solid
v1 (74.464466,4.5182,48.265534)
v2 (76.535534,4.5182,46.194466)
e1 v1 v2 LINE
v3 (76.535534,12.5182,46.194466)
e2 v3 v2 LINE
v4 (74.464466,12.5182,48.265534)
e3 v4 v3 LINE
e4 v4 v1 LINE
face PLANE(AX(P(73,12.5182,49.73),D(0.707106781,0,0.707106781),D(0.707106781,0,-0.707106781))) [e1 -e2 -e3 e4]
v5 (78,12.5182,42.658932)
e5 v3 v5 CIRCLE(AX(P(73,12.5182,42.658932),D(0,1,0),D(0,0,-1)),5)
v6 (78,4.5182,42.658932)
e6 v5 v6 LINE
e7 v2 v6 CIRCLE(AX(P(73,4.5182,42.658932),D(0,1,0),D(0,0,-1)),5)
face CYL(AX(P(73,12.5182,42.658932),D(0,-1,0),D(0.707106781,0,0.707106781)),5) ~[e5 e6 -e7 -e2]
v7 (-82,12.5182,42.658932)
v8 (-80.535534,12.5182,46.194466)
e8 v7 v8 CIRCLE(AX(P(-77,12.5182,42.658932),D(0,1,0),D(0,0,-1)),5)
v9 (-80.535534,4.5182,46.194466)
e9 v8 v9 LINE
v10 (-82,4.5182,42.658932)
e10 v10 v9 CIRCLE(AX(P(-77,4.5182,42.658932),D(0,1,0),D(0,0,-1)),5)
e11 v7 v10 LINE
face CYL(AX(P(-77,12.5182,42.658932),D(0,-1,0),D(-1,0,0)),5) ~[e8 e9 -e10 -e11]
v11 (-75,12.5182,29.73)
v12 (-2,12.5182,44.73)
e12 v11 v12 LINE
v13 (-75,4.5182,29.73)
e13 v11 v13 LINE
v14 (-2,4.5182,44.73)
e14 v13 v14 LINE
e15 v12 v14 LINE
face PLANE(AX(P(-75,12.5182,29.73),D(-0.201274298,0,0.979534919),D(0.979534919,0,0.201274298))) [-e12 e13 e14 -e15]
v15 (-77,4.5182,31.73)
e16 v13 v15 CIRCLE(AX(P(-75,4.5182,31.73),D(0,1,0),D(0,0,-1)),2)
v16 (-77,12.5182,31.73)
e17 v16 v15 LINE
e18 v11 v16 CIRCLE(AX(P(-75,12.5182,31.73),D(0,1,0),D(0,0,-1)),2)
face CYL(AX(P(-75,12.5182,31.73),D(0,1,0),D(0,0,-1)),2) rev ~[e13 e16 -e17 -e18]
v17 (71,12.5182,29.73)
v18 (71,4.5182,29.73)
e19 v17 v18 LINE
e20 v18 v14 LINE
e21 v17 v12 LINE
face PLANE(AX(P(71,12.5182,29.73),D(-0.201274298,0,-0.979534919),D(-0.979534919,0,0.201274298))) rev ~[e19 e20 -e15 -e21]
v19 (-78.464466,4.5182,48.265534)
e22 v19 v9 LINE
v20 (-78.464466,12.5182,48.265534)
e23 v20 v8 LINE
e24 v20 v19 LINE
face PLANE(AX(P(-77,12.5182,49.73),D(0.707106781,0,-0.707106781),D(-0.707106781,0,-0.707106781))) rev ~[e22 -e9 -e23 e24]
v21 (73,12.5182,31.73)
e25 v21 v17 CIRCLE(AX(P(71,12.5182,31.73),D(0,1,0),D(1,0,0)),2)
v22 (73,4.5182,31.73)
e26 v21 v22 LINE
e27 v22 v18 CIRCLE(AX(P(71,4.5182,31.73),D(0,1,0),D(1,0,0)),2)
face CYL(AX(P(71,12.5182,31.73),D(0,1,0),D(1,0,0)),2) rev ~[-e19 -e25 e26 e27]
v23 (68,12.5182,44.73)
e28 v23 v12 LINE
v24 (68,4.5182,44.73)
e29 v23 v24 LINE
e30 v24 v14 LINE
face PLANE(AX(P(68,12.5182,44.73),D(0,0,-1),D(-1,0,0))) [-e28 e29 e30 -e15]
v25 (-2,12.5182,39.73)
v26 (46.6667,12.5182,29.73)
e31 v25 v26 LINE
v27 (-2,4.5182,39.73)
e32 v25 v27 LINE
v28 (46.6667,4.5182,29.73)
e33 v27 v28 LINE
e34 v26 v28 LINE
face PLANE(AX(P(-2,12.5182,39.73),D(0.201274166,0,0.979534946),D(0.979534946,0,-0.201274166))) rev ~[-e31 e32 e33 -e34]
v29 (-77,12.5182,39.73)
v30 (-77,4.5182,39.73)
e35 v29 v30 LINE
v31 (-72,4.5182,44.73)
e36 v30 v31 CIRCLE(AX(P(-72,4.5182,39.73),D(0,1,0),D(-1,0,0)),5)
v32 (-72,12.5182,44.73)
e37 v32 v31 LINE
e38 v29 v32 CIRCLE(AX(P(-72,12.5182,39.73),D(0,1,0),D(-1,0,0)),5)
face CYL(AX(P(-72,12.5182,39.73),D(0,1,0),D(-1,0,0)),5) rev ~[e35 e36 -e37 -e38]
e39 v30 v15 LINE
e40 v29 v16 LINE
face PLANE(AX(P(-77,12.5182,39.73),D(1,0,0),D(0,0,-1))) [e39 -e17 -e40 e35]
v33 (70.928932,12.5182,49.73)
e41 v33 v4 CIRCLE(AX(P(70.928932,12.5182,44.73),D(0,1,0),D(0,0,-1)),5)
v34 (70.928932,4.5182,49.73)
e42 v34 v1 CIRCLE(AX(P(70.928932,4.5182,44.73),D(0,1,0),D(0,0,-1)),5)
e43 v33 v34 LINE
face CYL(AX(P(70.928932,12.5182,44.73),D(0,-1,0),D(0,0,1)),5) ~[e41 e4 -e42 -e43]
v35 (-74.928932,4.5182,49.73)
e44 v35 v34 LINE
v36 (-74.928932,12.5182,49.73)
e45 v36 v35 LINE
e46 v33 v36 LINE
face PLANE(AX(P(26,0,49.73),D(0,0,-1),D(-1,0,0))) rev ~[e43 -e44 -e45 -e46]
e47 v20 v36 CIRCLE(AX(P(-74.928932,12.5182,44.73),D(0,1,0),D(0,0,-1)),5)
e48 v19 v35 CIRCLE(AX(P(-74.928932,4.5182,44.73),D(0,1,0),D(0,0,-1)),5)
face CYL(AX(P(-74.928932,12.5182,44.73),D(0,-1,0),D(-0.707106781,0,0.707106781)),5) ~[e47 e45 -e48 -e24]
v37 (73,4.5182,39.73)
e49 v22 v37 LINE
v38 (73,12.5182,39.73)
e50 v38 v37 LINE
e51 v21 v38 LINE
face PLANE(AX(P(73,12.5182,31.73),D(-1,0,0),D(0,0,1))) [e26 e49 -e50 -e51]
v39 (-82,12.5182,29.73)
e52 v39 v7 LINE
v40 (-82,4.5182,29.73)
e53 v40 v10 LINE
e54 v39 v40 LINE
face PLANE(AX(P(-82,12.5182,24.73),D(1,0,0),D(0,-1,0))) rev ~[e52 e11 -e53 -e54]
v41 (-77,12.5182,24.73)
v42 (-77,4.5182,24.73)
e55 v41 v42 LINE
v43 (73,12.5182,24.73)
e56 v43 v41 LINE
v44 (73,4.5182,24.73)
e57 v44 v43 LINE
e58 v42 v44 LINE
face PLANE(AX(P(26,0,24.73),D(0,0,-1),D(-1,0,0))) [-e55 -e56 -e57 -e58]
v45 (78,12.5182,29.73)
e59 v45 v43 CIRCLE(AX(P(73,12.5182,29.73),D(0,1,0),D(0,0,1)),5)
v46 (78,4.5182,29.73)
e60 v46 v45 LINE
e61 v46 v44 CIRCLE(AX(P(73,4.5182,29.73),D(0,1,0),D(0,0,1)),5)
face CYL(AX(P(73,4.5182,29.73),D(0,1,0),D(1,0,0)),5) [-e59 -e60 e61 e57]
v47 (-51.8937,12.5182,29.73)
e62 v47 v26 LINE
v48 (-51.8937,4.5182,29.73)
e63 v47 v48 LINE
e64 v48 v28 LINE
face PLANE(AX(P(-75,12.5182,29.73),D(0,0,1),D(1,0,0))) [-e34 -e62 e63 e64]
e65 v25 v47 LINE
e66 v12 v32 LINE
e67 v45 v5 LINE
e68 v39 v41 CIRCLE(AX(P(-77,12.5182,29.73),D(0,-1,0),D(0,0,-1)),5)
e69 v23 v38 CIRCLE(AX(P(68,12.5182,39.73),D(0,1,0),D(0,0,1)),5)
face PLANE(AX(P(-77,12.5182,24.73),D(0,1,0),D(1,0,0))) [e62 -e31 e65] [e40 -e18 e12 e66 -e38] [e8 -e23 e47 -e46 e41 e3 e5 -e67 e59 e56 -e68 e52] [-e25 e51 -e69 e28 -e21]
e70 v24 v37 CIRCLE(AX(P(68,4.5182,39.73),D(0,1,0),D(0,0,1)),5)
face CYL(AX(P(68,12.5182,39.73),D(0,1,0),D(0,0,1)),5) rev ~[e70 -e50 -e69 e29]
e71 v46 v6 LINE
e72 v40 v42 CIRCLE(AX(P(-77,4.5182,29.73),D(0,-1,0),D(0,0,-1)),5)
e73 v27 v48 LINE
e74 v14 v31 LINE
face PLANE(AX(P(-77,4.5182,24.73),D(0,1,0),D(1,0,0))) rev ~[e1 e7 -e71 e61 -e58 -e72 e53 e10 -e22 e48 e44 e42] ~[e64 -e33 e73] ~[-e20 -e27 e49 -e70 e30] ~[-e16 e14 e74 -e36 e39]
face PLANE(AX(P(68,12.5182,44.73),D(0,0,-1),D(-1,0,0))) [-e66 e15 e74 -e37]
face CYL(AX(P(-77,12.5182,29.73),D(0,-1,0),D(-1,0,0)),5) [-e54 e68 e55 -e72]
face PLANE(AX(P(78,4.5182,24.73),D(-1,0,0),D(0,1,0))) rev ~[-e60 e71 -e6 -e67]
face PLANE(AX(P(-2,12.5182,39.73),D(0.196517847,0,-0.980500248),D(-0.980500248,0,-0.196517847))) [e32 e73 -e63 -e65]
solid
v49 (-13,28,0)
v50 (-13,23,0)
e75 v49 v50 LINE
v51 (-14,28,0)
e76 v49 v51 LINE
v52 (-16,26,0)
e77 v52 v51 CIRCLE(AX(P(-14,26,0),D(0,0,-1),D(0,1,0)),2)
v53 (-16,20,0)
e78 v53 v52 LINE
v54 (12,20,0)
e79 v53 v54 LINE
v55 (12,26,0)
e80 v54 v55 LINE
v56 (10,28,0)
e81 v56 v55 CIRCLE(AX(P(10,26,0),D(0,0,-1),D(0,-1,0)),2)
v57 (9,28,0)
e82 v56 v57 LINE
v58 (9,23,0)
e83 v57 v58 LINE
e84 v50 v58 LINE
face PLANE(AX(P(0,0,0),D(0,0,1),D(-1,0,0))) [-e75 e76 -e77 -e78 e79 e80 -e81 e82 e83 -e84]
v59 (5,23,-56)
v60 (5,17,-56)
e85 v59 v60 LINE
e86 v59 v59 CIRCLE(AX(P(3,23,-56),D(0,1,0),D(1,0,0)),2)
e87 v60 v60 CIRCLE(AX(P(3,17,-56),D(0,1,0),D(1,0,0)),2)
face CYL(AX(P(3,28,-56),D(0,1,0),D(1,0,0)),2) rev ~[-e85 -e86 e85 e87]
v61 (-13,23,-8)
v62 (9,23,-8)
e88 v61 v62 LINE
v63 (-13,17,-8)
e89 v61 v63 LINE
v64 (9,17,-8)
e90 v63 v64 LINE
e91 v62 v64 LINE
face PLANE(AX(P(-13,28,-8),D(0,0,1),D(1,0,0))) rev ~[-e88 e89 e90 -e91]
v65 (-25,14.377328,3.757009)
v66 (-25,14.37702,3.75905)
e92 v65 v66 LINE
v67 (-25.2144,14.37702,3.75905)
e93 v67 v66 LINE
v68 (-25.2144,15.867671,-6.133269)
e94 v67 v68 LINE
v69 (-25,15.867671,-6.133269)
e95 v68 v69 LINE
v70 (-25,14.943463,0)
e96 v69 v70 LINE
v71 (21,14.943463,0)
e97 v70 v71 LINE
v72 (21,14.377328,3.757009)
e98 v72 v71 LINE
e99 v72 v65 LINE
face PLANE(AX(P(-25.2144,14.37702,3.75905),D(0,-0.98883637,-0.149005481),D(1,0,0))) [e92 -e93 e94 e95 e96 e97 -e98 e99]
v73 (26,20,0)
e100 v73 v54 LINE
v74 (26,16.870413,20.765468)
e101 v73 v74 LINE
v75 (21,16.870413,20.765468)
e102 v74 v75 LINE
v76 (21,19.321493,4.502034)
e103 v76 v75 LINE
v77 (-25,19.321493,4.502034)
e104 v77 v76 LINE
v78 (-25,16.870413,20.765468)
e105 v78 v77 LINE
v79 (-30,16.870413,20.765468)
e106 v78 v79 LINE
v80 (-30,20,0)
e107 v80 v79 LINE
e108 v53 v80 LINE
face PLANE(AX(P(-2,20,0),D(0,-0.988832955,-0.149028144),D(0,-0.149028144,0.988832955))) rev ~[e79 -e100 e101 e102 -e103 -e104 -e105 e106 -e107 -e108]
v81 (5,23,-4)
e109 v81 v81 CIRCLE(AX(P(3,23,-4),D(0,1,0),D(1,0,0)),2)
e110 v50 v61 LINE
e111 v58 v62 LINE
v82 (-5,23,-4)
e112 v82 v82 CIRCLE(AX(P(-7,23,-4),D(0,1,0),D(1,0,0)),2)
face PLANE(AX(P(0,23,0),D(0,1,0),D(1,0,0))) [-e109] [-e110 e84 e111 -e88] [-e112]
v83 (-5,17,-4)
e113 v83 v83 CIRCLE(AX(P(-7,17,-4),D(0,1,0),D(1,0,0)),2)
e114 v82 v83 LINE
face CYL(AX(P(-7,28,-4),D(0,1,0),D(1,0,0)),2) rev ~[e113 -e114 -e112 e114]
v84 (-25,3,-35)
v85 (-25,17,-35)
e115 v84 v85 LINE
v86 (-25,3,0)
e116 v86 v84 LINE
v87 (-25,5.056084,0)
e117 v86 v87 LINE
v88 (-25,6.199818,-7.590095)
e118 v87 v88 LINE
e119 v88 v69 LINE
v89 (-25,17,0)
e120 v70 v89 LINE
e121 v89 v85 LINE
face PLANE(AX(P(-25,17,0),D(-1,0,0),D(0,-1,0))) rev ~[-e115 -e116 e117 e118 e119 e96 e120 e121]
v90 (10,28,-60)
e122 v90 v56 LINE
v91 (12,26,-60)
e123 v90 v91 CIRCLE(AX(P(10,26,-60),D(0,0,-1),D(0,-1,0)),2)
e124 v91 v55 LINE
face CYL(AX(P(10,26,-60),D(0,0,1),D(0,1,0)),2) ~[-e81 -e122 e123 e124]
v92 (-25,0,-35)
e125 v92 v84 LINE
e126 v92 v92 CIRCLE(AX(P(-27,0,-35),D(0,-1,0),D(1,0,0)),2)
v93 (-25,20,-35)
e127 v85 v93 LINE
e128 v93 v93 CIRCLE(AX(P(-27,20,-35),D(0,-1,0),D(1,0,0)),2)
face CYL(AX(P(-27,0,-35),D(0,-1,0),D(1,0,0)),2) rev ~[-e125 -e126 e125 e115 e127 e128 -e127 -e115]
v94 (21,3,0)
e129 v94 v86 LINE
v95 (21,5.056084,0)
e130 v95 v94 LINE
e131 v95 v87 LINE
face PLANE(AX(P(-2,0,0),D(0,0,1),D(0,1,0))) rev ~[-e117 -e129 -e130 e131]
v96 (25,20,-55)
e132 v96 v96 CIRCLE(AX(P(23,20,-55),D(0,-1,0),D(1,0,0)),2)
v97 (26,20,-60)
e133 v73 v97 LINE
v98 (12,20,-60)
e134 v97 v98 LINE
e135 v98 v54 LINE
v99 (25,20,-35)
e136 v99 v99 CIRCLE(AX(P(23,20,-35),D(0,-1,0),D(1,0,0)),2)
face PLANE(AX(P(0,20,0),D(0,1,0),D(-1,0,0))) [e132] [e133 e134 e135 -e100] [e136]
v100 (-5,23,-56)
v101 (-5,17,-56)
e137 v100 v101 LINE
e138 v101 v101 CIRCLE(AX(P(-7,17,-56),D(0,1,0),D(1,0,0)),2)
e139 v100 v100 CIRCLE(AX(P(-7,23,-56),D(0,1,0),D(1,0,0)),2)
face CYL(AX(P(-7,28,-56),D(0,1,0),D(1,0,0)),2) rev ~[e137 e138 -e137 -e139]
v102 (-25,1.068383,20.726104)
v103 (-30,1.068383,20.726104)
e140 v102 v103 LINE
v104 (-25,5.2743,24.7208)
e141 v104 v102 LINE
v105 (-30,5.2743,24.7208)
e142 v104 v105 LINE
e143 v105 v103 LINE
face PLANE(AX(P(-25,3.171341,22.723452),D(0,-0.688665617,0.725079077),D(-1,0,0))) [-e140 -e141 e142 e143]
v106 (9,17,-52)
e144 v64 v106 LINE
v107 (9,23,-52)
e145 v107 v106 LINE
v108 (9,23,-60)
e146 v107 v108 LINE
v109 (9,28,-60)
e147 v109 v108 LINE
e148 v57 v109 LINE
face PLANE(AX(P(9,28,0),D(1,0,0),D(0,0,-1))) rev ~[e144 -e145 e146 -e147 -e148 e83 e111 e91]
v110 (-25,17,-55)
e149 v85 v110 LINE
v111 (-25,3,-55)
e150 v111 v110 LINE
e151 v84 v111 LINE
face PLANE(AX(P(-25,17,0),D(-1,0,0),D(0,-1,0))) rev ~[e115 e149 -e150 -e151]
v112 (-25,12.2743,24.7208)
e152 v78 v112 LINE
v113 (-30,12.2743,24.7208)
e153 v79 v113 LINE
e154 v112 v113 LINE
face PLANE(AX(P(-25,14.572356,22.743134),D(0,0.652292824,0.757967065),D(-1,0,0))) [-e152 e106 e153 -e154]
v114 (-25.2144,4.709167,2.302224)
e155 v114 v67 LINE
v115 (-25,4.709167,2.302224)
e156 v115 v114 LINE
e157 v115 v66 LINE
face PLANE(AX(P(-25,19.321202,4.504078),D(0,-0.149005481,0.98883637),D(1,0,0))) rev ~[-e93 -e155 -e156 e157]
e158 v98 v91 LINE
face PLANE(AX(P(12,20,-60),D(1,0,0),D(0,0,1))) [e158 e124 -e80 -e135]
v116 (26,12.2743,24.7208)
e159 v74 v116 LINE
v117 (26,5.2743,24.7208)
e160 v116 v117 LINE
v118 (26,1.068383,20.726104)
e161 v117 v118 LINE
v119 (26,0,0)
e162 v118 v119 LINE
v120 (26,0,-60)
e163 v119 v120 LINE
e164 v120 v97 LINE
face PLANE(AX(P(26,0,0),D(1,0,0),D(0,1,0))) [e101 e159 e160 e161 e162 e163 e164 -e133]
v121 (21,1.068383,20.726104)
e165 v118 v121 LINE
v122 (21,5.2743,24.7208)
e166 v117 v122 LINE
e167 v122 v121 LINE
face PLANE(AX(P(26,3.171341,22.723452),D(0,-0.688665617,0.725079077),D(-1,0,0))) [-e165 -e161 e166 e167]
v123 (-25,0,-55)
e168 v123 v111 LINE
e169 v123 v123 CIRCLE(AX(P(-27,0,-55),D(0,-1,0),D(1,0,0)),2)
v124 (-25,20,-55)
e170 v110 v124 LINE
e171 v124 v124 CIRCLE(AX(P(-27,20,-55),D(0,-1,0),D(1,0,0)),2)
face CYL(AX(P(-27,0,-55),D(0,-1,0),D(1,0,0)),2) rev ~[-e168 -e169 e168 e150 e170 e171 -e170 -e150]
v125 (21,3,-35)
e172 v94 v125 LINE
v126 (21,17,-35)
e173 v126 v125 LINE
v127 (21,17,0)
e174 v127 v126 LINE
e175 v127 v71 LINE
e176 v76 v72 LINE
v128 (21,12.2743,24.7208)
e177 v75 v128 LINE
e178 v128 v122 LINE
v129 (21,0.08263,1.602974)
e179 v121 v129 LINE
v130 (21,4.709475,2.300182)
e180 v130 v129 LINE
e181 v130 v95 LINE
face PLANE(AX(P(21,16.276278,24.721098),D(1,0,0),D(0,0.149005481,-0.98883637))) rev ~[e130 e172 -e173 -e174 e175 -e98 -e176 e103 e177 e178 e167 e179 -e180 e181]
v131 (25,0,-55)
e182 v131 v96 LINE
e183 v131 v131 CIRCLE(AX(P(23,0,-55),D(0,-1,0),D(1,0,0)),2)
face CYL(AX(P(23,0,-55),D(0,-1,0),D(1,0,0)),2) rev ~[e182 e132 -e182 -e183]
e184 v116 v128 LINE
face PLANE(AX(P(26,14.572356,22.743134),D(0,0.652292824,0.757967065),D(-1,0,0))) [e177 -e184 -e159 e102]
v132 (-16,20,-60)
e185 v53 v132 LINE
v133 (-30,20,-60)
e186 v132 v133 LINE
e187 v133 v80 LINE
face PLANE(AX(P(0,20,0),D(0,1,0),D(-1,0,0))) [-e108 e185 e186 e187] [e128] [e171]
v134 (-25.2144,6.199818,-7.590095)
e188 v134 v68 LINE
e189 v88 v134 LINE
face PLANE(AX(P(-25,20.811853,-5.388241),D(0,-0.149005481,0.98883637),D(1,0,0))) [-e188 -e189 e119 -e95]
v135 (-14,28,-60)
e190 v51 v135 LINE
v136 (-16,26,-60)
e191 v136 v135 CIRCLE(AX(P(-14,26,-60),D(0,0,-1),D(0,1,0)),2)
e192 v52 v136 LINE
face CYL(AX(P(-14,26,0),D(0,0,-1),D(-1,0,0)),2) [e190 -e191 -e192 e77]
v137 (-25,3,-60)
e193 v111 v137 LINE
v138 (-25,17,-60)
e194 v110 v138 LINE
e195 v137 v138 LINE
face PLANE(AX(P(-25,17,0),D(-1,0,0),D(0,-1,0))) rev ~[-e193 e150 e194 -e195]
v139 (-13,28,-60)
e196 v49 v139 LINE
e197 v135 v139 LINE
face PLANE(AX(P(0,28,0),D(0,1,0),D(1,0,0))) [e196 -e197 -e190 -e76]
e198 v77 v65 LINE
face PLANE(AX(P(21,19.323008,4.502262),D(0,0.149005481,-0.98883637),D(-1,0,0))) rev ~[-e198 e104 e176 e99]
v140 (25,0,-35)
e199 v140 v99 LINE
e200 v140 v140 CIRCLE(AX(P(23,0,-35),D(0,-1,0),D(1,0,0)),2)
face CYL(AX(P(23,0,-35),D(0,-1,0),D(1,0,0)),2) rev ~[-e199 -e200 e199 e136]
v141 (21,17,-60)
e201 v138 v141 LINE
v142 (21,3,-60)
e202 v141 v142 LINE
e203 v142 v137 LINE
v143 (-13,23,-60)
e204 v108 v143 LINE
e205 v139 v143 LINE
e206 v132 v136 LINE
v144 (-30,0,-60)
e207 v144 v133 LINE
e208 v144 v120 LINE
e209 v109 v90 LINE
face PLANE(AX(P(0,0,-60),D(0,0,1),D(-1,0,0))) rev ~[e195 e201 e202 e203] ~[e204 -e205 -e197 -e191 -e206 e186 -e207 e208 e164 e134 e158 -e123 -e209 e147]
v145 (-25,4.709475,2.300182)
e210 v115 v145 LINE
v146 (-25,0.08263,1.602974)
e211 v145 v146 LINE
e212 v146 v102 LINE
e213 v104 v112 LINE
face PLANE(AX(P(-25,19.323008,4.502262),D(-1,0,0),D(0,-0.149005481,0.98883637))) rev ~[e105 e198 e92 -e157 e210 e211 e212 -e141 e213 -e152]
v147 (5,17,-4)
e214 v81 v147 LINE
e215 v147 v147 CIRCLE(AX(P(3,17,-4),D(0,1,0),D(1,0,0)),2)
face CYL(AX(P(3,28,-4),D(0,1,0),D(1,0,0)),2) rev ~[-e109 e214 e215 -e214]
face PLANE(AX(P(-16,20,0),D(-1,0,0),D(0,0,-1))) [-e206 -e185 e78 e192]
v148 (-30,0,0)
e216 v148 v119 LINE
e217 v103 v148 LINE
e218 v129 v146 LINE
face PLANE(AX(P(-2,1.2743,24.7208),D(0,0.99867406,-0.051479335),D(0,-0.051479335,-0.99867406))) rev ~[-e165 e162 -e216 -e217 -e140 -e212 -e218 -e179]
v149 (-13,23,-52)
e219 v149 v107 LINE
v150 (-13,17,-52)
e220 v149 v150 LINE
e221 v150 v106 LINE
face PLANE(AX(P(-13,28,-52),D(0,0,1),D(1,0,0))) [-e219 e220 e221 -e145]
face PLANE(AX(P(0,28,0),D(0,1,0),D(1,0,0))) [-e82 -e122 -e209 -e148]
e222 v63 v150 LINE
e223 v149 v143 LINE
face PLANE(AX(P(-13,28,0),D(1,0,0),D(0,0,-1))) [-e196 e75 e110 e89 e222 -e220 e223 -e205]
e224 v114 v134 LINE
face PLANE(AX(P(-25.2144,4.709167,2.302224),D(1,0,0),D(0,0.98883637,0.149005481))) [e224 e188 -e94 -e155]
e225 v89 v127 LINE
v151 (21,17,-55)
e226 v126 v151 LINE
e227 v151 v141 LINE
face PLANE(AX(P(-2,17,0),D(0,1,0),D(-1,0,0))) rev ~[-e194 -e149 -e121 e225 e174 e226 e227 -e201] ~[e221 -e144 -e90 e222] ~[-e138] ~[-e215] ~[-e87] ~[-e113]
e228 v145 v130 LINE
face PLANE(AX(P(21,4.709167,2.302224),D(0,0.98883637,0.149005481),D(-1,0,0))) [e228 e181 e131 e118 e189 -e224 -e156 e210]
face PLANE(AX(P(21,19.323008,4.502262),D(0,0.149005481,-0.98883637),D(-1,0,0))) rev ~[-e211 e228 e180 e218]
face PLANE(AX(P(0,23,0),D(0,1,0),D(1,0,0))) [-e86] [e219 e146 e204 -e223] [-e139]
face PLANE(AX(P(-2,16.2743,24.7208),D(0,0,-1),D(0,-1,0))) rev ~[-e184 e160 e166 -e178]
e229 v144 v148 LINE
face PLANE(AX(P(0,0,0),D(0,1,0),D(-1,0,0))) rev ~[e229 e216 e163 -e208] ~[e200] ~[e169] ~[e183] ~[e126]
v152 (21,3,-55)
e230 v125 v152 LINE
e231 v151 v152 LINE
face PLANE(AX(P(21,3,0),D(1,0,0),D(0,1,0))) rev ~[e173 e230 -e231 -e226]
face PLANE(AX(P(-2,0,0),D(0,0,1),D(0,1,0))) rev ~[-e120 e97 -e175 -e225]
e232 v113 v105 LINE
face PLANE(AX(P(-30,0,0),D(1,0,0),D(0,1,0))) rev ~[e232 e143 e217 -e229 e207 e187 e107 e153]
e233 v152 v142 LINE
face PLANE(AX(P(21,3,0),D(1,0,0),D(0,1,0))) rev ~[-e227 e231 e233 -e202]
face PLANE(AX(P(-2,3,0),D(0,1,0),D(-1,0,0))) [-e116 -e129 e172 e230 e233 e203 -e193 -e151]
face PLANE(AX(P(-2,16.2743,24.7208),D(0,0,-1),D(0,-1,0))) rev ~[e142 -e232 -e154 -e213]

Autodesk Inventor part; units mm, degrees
sketch "Boceto1" plane through (0, 0, 0) normal (0, 1, 0) x (-1, 0, 0)
  line L0 (0, 0) -> (0, -60)
  line L1 (0, 0) -> (30, 0)
  line L2 (0, -60) -> (30, -60)
  line L3 (30, -60) -> (30, 0)
  line L4 (0, 0) -> (-26, 0)
  line L5 (-26, 0) -> (-26, -60)
  line L6 (-26, -60) -> (0, -60)
  dimension "d0" = 60
  dimension "d1" = 30
  dimension "d2" = 30
  dimension "d3" = 26
extrude "Extrusión1" add sketch "Boceto1" along normal blind 20
sketch "Boceto2" plane through (-30, 0, 0) normal (0, 0, 1) x (1, 0, 0)
  line L0 (56, 0) -> (0, 0) construction
  line L1 (28, 0) -> (28, 20) construction
  line L2 (56, 20) -> (0, 20) construction
  line L3 (0, 0) -> (0, 20) construction
  line L4 (0, 10) -> (5, 10) construction
  line L5 (56, 0) -> (56, 20) construction
  line L6 (56, 10) -> (51, 10) construction
  line L7 (28, 20) -> (28, 17) construction
  line L8 (28, 17) -> (51, 17)
  line L9 (51, 17) -> (51, 10)
  line L10 (28, 17) -> (5, 17)
  line L11 (5, 17) -> (5, 10)
  line L12 (28, 0) -> (28, 3) construction
  line L13 (28, 3) -> (5, 3)
  line L14 (5, 3) -> (5, 10)
  line L15 (28, 3) -> (51, 3)
  line L16 (51, 3) -> (51, 10)
  point P0 (30, 0)
  dimension "d8" = 3
  dimension "d9" = 3
extrude "Extrusión2" cut sketch "Boceto2" against normal through all
sketch "Boceto3" plane through (0, 20, 0) normal (0, 1, 0) x (1, 0, 0)
  line L0 (21, 60) -> (-25, 60) projected
  line L1 (-2, 60) -> (-2, 0)
  line L2 (-25, 0) -> (21, 0) projected
  line L3 (-2, 0) -> (12, 0) construction
  line L4 (-2, 0) -> (-16, 0) construction
  line L5 (-16, 0) -> (-16, 60) construction
  line L6 (-16, 60) -> (12, 60)
  line L7 (12, 60) -> (12, 0)
  line L8 (12, 0) -> (-16, 0)
  line L9 (-16, 0) -> (-16, 60)
  point P0 (0, 0)
  point P1 (12, 60)
  dimension "d12" = 14
  dimension "d13" = 14
extrude "Extrusión3" add sketch "Boceto3" along normal blind 8
sketch "Boceto4" plane through (0, 28, 0) normal (0, 1, 0) x (1, 0, 0)
  line L0 (12, 0) -> (26, 0) construction
  line L1 (12, 0) -> (9, 0) construction
  line L2 (9, 0) -> (9, 60)
  line L3 (26, 60) -> (-30, 60) projected
  line L4 (-16, 0) -> (-16, 60) projected
  line L5 (-16, 0) -> (-13, 0)
  line L6 (-30, 0) -> (26, 0) projected
  line L7 (-13, 0) -> (-13, 60)
  line L8 (-2, 0) -> (-2, 8) construction
  line L9 (-13, 8) -> (9, 8)
  line L10 (-2, 60) -> (-2, 52) construction
  line L11 (-13, 52) -> (9, 52)
  line L12 (9, 56) -> (5, 56) construction
  line L13 (-13, 30) -> (9, 30) construction
  line L14 (5, 56) -> (3, 56) construction
  circle A0 centre (3, 56) radius 2
  circle A1 centre (-7, 56) radius 2
  circle A2 centre (3, 4) radius 2
  circle A3 centre (-7, 4) radius 2
  point P0 (0, 0)
  dimension "d16" = 3
  dimension "d17" = 3
  dimension "d18" = 8
  dimension "d19" = 8
  dimension "d20" = 4
  dimension "d21" = 2
extrude "Extrusión4" cut sketch "Boceto4" against normal blind 15 contours L9 L7 L11 L2
extrude "Extrusión5" cut sketch "Boceto4" against normal blind 15 contours A0 | A1 | A2 | A3
extrude "Extrusión6" cut sketch "Boceto4" against normal blind 5 contours L6 L7 L9 L2 | L11 L7 L3 L2
fillet "Empalme1" radius 2 2 edges at (-16, 28, -30) (12, 28, -30)
ref_plane "Plano de trabajo1" through (-2, 0, 0) normal (1, 0, 0) x (0, 1, 0)
sketch "Boceto6" plane through (-2, 0, 0) normal (1, 0, 0) x (0, 1, 0)
  line L0 (0, 0) -> (20, 0) projected
  line L1 (28, 0) -> (23, 0) projected
  line L2 (28, 0) -> (0, 0)
  line L3 (20, 0) -> (16.2743, 24.7208)
  line L4 (16.2743, 24.7208) -> (1.2743, 24.7208)
  line L5 (1.2743, 24.7208) -> (0, 0)
  line L6 (0, 0) -> (20, 0)
  dimension "d32" = 25
  dimension "d33" = 15
extrude "Extrusión7" add sketch "Boceto6" along normal mid plane 56
sketch "Boceto7" plane through (-30, 16.2743, 24.7208) normal (0, 0.9888, 0.149) x (1, 0, 0)
  line L0 (56, -2.2354) -> (56, 22.0194) construction
  line L1 (56, 9.892) -> (51, 9.892) construction
  line L2 (0, 22.0194) -> (0, -2.2354) construction
  line L3 (0, 11.3809) -> (5, 11.3809) construction
  line L4 (39, 25.4471) -> (17, 25.4471) construction
  line L5 (28, 25.4471) -> (28, 20.4471) construction
  line L6 (0, 0) -> (56, 0) projected
  line L7 (5, 0) -> (51, 0)
  line L8 (51, 0) -> (51, 20.4471)
  line L9 (51, 20.4471) -> (5, 20.4471)
  line L10 (5, 20.4471) -> (5, 0)
  line L11 (5, 0) -> (5, -22.0119)
  line L12 (5, -22.0119) -> (51, -22.0119)
  line L13 (51, -22.0119) -> (51, 0)
  point P0 (30, 22.0194)
  dimension "d36" = 5
  dimension "d38" = 5
  dimension "d39" = 5
extrude "Extrusión8" cut sketch "Boceto7" against normal blind 56
ref_plane "Plano de trabajo2" through (26, 0, 24.73) normal (0, 0, -1) x (-1, 0, 0)
sketch "Boceto8" plane through (26, 0, 24.73) normal (0, 0, -1) x (-1, 0, 0)
  line L0 (17, 23) -> (39, 23) construction
  line L1 (28, 23) -> (28, 0) construction
  line L2 (56, 0) -> (0, 0) construction
  line L3 (28, 8.5182) -> (108, 8.5182) construction
  line L4 (28, 8.5182) -> (-52, 8.5182) construction
  line L5 (28, 8.5182) -> (28, 12.5182) construction
  line L6 (28, 8.5182) -> (28, 4.5182) construction
  line L7 (-52, 12.5182) -> (108, 12.5182)
  line L8 (108, 12.5182) -> (108, 4.5182)
  line L9 (108, 4.5182) -> (-52, 4.5182)
  line L10 (-52, 4.5182) -> (-52, 12.5182)
  point P0 (26, 0)
  dimension "d43" = 80
  dimension "d44" = 80
  dimension "d45" = 4
  dimension "d46" = 4
extrude "Extrusión9" add sketch "Boceto8" against normal blind 25
fillet "Empalme2" radius 5 2 edges at (78, 8.5182, 24.73) (-82, 8.5182, 24.73)
sketch "Boceto9" plane through (-82, 12.5182, 49.73) normal (0, 1, 0) x (1, 0, 0)
  line L0 (0, 0) -> (160, 0) construction
  line L1 (0, 0) -> (0, 5) construction
  line L2 (0, 20) -> (0, 0) construction
  line L3 (0, 5) -> (5, 5) construction
  line L4 (5, 5) -> (5, 0) construction
  line L5 (160, 20) -> (160, 0) construction
  line L6 (160, 0) -> (160, 5) construction
  line L7 (160, 5) -> (155, 5) construction
  line L8 (155, 5) -> (155, 0) construction
  line L9 (5, 0) -> (0, 5)
  line L10 (155, 0) -> (160, 5)
  line L11 (5, 0) -> (0, 0)
  line L12 (0, 0) -> (0, 5)
  line L13 (155, 0) -> (160, 0)
  line L14 (160, 0) -> (160, 5)
  point P0 (82, 49.73)
  dimension "d50" = 5
  dimension "d51" = 5
  dimension "d52" = 5
  dimension "d53" = 5
extrude "Extrusión10" cut sketch "Boceto9" against normal through all
fillet "Empalme3" radius 5 4 edges at (-82, 8.5182, 44.73) (78, 8.5182, 44.73) (73, 8.5182, 49.73) (-77, 8.5182, 49.73)
sketch "Boceto10" plane through (-77, 12.5182, 24.73) normal (0, 1, 0) x (1, 0, 0)
  line L0 (150, 0) -> (0, 0) construction
  line L1 (75, 0) -> (75, -5) construction
  line L2 (2.0711, -25) -> (147.9289, -25) construction
  line L3 (75, -25) -> (75, -20) construction
  line L4 (-5, -5) -> (-5, -17.9289) construction
  line L5 (-5, -11.4645) -> (0, -11.4645) construction
  line L6 (155, -5) -> (155, -17.9289) construction
  line L7 (155, -11.4645) -> (150, -11.4645) construction
  line L8 (2, -5) -> (148, -5)
  line L9 (150, -7) -> (150, -15)
  line L10 (145, -20) -> (5, -20)
  line L11 (0, -15) -> (0, -7)
  arc A0 (2, -5) -> (0, -7) centre (2, -7) ccw
  arc A1 (150, -7) -> (148, -5) centre (148, -7) ccw
  arc A2 (0, -15) -> (5, -20) centre (5, -15) ccw
  arc A3 (145, -20) -> (150, -15) centre (145, -15) ccw
  point P0 (77, 24.73)
  dimension "d57" = 5
  dimension "d58" = 5
  dimension "d59" = 5
  dimension "d60" = 2
  dimension "d61" = 2
  dimension "d62" = 5
extrude "Extrusión11" cut sketch "Boceto10" against normal through all
ref_plane "Plano de trabajo3" through (-77, 12.5182, 24.73) normal (0, 1, 0) x (1, 0, 0)
sketch "Boceto11" plane through (-77, 12.5182, 24.73) normal (0, 1, 0) x (1, 0, 0)
  line L0 (2, -5) -> (148, -5) projected
  line L1 (2, -5) -> (75, -20)
  line L2 (145, -20) -> (5, -20) projected
  line L3 (148, -5) -> (75, -20)
  line L4 (75, -20) -> (75, -15) construction
  line L5 (75, -20) -> (80, -20) construction
  line L6 (75, -15) -> (123.6667, -5)
  line L7 (75, -15) -> (25.1063, -5)
  line L8 (2, -5) -> (25.1063, -5)
  line L9 (123.6667, -5) -> (148, -5)
  point P0 (77, 24.73)
  dimension "d67" = 5
  dimension "d68" = 90
extrude "Extrusión12" add sketch "Boceto11" against normal blind 8 contours L0 L7 L6 L3 L1
chamfer "Chaflán1" distance 4 angle 45 4 edges at (23.5, 1.2743, 24.7208) (-27.5, 1.2743, 24.7208) (23.5, 16.2743, 24.7208) (-27.5, 16.2743, 24.7208)
sketch "Boceto12" plane through (0, 0, 0) normal (0, -1, 0) x (1, 0, 0)
  line L0 (26, -60) -> (-30, -60) construction
  line L1 (-25, 0) -> (-25, -60) construction
  line L2 (-30, -60) -> (-25, -60) construction
  line L3 (-27.5, -60) -> (-27.5, -55) construction
  line L4 (-30, -60) -> (-30, 0) construction
  line L5 (-30, -55) -> (-25, -55) construction
  line L6 (-25, -55) -> (-27, -55) construction
  circle A0 centre (-27, -55) radius 2
  line L7 (-2, -60) -> (-2, 0) construction
  circle A1 centre (23, -55) radius 2
  line L8 (26, -60) -> (26, -30) construction
  line L9 (26, 0) -> (26, -60) construction
  line L10 (26, -30) -> (-30, -30) construction
  line L11 (-30, -30.4996) -> (-30, -45.4996) construction
  line L12 (-30, -45.4996) -> (26, -45.4996) construction
  line L13 (-27, -55) -> (-27, -35) construction
  circle A2 centre (-27, -35) radius 2
  line L14 (23, -55) -> (23, -35) construction
  circle A3 centre (23, -35) radius 2
  point P0 (0, 0)
  dimension "d74" = 5
  dimension "d79" = 2
  dimension "d80" = 4
  dimension "d81" = 30
  dimension "d82" = 15
  dimension "d83" = 20
  dimension "d84" = 4
  dimension "d85" = 20
  dimension "d86" = 4
extrude "Extrusión13" cut sketch "Boceto12" against normal through all
sketch "Boceto13" plane through (-25, 19.3215, 4.5021) normal (0, -0.149, 0.9888) x (1, 0, 0)
  line L0 (9, 0) -> (37, 0) construction
  line L1 (23, 0) -> (23, -5) construction
  line L2 (-5, -5) -> (51, -5)
  line L3 (51, -5) -> (51, -14.777)
  line L4 (51, -14.777) -> (-5, -14.777)
  line L5 (-5, -14.777) -> (-5, -5)
  line L6 (46, -25.7518) -> (46, -11.9082) projected
  line L7 (46, -14.777) -> (46, -5)
  line L8 (46, -2.9665) -> (46, -16.8102) projected
  line L9 (-0.2144, -14.777) -> (-0.2144, -5)
  point P0 (25, -19.7767)
  dimension "d87" = 5
  dimension "d88" = 9.777
extrude "Extrusión14" cut sketch "Boceto13" against normal blind 10 contours L2 L7 L6 L4 L9
